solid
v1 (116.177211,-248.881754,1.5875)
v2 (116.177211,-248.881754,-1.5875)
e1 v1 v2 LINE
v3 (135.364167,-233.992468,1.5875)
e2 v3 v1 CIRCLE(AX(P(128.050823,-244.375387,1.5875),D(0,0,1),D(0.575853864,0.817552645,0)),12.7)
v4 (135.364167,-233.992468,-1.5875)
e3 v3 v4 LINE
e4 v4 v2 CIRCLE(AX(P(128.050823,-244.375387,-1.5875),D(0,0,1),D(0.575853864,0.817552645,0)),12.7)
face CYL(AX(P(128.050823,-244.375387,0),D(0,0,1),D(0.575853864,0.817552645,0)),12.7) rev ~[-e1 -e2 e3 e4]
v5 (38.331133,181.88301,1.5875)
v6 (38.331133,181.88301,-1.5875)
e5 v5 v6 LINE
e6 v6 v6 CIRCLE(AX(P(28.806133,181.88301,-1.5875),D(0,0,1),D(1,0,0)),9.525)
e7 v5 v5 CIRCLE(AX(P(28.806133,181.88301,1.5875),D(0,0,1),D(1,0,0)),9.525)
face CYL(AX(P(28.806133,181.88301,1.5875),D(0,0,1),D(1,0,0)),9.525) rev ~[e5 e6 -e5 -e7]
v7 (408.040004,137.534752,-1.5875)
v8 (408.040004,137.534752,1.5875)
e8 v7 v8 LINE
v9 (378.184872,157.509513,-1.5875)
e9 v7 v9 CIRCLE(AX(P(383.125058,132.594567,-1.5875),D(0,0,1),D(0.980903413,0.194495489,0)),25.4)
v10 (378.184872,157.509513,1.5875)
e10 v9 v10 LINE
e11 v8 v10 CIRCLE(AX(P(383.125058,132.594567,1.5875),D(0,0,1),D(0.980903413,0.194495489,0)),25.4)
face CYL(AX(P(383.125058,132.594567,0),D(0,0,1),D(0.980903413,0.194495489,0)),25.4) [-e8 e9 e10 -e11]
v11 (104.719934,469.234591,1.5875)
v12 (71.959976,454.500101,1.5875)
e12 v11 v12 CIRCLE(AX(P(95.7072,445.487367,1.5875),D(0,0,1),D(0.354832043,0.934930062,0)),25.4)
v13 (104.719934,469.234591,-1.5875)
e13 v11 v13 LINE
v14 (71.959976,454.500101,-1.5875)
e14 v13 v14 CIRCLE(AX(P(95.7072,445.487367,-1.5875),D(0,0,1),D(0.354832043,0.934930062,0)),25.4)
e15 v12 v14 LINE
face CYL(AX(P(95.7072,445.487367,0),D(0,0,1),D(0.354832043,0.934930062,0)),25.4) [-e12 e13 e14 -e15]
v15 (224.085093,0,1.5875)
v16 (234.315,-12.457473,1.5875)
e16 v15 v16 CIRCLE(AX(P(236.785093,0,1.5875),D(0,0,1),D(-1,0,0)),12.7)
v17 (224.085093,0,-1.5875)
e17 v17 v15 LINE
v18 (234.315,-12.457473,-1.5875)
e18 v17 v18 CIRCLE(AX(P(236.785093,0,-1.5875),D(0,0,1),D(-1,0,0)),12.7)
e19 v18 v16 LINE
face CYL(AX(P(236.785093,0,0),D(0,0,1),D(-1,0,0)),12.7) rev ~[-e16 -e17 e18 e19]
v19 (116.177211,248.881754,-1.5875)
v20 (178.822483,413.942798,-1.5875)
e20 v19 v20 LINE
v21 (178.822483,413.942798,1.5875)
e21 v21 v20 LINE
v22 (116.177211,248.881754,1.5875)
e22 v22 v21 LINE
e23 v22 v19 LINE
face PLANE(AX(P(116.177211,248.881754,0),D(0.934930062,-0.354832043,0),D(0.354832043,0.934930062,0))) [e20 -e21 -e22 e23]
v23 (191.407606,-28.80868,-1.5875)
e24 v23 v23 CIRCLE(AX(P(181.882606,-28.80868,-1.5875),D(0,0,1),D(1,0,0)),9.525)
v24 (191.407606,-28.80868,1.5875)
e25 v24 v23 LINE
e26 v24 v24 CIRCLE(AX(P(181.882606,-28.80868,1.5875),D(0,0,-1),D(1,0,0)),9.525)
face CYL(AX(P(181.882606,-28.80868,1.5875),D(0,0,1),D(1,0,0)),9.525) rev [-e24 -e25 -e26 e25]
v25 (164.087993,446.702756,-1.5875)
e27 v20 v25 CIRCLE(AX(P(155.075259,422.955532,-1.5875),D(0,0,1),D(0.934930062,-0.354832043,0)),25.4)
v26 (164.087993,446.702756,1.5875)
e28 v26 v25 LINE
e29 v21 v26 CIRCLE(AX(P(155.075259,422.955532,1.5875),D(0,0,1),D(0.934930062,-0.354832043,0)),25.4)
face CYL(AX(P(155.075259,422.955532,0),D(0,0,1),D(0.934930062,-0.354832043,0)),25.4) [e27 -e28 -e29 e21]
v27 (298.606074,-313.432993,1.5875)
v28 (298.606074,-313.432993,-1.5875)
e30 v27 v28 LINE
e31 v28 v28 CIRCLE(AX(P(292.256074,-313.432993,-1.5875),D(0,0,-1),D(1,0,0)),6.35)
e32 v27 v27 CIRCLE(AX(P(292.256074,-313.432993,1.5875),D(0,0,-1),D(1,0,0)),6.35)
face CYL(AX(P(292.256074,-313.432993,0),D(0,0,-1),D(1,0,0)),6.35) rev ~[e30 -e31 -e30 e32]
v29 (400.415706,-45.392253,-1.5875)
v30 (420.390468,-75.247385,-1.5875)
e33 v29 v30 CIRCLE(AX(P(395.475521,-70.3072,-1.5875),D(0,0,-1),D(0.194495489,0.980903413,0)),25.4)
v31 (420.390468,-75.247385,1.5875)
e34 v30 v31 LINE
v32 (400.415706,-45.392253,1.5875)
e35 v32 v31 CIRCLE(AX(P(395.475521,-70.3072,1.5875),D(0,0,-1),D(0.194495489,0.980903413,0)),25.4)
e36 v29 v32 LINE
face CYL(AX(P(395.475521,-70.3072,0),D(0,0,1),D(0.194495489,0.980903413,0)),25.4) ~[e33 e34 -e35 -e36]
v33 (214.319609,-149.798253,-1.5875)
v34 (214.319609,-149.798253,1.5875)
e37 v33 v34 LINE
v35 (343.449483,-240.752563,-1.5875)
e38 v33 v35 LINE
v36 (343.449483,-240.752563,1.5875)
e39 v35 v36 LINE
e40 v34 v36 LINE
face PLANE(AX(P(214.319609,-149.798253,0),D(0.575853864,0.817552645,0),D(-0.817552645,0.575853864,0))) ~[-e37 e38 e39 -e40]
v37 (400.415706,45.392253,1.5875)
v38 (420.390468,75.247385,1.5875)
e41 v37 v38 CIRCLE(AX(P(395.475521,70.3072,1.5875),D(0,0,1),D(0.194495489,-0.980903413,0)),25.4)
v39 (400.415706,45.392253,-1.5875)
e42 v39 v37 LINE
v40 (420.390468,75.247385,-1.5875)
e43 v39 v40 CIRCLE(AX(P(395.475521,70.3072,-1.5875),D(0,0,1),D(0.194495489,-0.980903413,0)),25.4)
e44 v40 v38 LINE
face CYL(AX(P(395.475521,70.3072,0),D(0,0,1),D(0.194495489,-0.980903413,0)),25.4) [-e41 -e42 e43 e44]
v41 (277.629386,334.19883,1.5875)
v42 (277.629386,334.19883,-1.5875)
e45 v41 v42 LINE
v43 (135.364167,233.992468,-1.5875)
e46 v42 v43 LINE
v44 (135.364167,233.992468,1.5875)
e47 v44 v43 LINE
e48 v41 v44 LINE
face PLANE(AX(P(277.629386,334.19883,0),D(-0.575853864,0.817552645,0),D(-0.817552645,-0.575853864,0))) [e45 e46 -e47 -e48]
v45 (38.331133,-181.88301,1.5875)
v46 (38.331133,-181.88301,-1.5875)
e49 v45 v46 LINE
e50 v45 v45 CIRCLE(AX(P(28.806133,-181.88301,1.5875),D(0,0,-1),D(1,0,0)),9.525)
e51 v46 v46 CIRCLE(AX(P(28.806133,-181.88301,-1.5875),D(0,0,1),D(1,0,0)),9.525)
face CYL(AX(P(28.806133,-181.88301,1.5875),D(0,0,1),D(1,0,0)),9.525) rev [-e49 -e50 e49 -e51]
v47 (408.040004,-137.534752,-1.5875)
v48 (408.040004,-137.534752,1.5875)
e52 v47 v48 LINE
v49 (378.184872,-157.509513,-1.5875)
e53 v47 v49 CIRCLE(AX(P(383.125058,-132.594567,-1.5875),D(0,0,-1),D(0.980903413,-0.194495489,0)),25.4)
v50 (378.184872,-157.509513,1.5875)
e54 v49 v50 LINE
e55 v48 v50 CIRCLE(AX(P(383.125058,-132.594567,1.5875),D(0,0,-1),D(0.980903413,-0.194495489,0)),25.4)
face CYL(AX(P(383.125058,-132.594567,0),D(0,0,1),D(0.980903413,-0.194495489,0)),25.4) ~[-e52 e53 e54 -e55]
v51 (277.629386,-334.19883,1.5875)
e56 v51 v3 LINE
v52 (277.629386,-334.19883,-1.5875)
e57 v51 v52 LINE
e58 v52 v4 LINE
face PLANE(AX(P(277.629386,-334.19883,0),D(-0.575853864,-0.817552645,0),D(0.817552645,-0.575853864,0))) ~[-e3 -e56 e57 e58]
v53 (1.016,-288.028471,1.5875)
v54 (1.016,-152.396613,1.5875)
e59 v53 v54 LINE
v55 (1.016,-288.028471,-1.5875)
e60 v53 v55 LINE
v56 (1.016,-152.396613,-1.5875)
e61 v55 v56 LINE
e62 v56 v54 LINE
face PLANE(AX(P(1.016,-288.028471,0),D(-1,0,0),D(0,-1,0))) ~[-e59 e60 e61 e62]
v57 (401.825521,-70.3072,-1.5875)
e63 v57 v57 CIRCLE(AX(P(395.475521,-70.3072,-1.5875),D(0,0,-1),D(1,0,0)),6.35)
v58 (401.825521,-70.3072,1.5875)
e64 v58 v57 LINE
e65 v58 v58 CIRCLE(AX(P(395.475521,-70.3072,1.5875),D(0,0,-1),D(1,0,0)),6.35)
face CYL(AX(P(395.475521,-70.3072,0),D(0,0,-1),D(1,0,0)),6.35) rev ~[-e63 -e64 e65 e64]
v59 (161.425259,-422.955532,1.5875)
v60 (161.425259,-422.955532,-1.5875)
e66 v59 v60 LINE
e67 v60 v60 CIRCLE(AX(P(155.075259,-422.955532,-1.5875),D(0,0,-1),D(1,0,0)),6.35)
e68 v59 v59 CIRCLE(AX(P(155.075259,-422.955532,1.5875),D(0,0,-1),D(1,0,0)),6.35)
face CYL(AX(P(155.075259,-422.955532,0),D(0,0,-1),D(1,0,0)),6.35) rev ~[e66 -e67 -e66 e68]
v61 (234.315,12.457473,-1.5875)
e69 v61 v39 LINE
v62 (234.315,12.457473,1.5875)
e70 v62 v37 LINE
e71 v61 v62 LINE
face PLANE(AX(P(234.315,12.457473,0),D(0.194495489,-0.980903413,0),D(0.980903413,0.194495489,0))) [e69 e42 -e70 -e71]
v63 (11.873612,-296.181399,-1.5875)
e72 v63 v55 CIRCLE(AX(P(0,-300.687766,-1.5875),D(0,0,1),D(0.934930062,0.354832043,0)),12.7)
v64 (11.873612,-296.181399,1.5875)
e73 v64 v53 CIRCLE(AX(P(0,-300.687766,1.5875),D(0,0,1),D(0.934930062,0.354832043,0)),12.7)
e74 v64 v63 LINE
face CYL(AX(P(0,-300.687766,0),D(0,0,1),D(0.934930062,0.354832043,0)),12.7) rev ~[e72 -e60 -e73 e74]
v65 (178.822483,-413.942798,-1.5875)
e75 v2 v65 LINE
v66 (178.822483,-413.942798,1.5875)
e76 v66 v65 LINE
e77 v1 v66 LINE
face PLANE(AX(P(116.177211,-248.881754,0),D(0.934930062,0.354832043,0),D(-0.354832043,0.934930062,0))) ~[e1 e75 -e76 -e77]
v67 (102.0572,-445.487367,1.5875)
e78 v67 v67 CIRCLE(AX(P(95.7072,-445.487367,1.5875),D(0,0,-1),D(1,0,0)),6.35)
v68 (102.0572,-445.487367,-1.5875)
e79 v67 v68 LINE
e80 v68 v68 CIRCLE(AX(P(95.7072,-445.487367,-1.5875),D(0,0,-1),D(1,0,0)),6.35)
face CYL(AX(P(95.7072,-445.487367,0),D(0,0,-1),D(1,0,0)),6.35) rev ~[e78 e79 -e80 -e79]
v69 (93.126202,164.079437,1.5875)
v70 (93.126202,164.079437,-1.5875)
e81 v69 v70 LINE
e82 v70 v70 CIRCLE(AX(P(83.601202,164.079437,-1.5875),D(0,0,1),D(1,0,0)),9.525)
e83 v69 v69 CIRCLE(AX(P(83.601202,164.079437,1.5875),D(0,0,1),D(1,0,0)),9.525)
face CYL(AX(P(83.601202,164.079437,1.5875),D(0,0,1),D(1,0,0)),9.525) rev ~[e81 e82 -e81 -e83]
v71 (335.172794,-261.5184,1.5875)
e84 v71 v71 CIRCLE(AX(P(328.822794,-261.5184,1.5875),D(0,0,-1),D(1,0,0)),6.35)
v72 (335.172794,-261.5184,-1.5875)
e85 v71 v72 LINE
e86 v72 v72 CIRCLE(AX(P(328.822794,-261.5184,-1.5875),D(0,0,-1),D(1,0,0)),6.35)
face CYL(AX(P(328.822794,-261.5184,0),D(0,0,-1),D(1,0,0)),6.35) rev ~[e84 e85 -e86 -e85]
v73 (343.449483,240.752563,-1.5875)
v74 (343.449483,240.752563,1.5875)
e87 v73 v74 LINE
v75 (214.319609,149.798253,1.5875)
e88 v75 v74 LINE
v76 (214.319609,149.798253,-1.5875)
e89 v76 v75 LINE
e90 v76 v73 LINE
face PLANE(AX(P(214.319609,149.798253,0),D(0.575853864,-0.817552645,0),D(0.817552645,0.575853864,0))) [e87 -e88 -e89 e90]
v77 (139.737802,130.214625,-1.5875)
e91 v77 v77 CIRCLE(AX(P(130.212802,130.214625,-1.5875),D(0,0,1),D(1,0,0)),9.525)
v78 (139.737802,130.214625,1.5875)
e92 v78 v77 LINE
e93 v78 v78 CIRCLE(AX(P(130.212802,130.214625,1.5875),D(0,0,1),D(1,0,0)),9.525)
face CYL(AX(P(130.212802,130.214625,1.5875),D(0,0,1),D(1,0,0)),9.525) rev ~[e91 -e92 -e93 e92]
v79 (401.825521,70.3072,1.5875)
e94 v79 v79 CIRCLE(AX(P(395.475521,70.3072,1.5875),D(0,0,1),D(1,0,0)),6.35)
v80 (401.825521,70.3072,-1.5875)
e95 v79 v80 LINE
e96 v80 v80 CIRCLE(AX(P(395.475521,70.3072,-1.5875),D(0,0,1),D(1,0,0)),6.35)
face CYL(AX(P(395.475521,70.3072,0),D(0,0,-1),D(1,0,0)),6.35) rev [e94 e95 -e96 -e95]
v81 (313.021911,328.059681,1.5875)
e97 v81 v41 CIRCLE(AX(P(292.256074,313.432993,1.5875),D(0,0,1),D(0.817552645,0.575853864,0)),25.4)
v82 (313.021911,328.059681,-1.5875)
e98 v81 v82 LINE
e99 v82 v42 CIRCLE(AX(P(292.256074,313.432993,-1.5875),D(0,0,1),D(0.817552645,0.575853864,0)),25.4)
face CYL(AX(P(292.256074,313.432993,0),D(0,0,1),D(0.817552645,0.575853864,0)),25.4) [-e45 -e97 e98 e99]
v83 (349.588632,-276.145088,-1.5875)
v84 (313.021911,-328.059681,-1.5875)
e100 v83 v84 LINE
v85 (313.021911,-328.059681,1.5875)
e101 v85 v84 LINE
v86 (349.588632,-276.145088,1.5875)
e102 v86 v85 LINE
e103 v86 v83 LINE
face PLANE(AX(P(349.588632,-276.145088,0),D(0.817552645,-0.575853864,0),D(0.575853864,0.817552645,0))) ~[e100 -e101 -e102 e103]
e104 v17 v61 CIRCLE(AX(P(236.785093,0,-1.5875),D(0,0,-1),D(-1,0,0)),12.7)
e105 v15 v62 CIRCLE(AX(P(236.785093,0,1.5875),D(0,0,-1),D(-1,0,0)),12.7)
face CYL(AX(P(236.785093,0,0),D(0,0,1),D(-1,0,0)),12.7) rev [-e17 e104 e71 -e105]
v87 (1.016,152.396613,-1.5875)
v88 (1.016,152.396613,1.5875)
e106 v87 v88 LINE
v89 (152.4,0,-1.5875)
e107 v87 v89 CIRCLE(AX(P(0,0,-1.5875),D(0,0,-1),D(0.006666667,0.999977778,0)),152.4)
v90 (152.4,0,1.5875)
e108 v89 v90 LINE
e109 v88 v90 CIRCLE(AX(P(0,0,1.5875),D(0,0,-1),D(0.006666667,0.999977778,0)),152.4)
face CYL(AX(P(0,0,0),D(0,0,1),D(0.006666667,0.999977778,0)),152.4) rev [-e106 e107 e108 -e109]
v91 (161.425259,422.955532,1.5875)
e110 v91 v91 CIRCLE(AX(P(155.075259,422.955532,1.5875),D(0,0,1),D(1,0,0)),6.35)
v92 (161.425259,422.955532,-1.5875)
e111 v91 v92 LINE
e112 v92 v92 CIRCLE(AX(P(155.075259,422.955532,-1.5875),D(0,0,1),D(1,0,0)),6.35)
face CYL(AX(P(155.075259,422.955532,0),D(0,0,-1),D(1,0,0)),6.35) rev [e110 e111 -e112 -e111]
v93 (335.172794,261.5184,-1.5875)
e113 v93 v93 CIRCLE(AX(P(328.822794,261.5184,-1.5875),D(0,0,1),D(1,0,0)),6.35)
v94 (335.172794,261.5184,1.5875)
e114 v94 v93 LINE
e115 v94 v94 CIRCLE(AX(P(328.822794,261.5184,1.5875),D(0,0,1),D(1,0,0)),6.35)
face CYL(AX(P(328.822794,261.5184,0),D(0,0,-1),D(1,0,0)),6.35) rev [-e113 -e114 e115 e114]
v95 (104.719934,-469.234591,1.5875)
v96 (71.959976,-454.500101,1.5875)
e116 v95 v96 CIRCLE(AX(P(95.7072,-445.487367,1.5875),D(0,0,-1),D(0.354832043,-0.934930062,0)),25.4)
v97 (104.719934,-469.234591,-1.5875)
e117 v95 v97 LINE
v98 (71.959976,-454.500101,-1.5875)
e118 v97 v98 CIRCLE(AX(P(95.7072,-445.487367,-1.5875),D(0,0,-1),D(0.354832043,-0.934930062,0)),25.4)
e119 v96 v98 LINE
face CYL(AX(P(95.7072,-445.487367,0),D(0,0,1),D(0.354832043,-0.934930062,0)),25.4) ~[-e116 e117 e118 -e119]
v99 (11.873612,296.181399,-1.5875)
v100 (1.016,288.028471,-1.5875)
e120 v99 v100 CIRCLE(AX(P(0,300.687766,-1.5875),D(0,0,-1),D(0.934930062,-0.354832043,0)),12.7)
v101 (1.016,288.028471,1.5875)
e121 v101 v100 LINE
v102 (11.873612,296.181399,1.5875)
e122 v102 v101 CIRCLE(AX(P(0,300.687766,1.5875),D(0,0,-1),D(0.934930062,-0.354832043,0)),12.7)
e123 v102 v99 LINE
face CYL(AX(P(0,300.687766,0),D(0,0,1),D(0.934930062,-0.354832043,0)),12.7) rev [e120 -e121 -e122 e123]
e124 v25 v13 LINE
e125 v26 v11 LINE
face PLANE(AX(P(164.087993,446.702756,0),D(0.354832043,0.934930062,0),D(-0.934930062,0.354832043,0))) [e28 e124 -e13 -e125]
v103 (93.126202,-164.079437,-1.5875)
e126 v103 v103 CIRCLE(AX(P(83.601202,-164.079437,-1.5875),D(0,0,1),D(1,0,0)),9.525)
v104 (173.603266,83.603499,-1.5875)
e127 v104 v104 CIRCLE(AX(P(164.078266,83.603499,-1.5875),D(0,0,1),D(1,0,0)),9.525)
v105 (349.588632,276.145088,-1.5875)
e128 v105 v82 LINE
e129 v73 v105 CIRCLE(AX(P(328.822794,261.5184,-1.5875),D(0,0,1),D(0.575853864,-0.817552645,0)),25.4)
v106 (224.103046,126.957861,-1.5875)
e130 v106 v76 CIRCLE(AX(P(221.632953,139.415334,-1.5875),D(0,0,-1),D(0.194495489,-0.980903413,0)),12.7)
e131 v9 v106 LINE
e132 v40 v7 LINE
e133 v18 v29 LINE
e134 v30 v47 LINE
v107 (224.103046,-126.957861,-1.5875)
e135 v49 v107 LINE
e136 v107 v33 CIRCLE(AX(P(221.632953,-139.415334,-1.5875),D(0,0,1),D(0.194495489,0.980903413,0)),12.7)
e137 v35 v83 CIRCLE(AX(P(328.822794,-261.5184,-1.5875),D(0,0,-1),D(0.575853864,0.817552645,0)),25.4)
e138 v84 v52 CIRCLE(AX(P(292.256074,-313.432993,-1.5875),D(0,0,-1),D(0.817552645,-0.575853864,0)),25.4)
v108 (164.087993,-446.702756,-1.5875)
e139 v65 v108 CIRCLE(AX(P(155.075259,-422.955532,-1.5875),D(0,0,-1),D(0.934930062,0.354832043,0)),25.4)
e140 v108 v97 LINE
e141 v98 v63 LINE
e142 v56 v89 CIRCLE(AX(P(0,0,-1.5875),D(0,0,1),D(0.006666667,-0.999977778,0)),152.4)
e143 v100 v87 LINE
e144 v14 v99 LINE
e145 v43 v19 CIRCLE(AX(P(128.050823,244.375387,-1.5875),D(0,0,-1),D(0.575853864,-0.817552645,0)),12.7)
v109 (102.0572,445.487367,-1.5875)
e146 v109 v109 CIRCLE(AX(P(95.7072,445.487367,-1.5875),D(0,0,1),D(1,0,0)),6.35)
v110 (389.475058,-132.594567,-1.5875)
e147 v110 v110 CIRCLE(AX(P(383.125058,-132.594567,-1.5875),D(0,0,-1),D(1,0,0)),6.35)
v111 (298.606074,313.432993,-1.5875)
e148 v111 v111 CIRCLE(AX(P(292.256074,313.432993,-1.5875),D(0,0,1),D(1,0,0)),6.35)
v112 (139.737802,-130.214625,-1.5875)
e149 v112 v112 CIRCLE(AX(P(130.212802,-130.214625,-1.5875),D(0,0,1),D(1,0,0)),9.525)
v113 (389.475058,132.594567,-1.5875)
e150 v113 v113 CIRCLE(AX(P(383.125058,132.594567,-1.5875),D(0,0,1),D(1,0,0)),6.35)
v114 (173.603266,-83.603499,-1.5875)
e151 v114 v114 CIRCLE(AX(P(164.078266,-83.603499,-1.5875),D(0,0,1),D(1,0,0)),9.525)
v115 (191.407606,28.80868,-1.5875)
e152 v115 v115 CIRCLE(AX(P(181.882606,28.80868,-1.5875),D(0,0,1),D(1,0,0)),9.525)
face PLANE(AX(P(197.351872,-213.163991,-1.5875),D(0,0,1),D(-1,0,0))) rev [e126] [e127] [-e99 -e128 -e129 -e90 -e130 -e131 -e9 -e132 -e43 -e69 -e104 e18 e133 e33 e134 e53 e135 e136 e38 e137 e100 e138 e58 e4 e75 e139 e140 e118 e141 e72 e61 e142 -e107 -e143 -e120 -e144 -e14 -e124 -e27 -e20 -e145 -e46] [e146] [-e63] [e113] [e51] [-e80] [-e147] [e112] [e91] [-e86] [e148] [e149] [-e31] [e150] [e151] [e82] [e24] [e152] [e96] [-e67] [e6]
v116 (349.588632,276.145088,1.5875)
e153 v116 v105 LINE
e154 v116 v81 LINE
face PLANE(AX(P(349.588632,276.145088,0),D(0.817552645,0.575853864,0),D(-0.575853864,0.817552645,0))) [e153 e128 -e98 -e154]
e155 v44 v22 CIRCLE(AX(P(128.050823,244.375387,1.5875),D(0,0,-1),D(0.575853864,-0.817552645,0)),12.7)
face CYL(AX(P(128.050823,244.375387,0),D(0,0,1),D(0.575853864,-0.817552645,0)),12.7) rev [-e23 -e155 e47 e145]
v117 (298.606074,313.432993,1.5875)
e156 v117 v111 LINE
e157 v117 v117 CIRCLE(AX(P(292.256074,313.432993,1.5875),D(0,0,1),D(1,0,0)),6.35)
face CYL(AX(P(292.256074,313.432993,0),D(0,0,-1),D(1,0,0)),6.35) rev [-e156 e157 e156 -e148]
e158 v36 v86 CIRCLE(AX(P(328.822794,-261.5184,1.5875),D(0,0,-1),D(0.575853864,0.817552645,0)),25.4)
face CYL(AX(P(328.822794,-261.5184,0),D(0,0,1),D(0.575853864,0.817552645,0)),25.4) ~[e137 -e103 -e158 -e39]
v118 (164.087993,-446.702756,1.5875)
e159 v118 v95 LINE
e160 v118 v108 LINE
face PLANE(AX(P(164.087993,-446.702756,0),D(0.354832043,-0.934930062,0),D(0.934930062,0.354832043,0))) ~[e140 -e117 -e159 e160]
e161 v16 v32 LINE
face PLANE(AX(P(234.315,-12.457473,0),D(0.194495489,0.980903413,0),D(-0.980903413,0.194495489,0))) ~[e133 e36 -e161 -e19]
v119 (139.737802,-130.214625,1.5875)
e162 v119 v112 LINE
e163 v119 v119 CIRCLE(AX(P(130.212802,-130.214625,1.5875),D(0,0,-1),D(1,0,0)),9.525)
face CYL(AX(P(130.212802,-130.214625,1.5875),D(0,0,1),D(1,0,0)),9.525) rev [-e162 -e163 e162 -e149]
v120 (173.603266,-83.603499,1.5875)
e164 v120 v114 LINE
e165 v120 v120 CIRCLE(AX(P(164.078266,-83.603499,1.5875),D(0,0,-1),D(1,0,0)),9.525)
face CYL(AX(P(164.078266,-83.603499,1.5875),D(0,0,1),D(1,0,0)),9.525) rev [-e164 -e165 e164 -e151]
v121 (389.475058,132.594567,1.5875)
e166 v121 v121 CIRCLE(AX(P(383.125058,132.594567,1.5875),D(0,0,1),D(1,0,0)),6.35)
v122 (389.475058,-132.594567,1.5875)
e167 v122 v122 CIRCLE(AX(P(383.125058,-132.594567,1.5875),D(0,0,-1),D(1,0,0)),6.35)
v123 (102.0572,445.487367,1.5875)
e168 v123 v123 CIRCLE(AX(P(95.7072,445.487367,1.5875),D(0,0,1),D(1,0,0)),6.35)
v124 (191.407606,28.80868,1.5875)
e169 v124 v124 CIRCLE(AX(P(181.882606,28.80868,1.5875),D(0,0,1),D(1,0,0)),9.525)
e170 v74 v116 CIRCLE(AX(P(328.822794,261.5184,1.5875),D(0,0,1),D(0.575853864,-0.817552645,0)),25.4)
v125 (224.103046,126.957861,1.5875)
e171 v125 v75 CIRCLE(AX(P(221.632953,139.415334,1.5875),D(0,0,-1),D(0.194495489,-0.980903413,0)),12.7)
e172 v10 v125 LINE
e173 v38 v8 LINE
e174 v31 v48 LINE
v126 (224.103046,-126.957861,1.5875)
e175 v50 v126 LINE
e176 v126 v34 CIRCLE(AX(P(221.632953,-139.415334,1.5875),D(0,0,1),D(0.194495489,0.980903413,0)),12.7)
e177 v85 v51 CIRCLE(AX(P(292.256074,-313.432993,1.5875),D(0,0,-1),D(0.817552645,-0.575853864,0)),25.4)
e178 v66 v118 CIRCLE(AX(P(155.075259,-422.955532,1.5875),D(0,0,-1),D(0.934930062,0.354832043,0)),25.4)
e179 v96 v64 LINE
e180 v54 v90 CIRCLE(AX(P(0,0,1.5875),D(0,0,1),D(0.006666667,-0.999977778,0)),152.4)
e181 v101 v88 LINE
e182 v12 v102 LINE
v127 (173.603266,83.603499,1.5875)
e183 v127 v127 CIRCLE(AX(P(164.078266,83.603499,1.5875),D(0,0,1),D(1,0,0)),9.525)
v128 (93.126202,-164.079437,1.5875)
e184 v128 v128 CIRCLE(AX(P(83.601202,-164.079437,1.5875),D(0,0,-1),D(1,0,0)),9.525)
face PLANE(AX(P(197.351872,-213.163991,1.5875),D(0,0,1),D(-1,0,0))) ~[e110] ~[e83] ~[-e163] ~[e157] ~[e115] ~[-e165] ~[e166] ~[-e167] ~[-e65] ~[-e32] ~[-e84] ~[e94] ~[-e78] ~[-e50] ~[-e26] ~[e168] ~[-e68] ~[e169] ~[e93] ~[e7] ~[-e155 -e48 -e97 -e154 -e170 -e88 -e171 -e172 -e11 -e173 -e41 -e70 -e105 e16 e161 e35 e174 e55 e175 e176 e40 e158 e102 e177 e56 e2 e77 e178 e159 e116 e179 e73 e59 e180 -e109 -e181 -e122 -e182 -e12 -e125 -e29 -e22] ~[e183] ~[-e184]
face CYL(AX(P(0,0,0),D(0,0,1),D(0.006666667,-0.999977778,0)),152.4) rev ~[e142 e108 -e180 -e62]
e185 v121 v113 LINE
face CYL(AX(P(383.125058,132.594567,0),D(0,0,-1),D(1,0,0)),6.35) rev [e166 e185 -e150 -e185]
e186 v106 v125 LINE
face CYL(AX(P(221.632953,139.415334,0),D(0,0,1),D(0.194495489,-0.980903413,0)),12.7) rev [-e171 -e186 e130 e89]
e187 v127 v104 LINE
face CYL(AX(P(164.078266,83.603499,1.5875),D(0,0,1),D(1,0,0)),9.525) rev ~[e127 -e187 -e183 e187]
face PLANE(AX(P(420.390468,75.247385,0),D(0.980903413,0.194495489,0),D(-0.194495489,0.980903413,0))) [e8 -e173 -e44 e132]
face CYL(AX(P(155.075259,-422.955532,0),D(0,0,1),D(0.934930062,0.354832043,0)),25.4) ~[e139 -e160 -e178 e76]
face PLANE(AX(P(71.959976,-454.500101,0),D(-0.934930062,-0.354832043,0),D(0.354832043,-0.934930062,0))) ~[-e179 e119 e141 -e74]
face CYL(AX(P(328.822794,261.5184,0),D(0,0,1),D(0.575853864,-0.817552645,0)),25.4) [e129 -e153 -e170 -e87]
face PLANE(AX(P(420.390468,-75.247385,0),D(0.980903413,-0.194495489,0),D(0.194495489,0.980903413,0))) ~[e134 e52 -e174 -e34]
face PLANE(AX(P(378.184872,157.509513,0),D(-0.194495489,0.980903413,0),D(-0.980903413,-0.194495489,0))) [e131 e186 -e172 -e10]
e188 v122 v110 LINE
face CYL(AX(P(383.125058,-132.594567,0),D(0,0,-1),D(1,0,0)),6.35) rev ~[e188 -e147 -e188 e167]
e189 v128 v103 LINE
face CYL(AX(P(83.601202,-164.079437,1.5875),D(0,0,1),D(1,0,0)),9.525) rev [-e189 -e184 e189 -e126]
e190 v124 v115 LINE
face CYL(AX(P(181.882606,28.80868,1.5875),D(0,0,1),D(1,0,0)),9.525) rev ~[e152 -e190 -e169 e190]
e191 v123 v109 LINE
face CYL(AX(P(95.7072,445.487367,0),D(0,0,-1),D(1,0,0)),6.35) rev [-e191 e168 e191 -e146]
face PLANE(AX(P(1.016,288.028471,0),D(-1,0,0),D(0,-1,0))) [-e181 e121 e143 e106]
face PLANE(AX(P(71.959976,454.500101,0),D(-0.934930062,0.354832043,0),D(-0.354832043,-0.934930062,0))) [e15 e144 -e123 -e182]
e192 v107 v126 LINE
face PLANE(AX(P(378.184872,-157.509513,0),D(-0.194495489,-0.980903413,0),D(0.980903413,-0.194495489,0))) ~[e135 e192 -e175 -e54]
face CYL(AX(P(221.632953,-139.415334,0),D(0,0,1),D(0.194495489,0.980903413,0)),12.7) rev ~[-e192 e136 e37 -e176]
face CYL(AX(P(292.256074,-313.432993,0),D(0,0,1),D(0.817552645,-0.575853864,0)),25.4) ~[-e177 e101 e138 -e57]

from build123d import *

# Parameters (mm, degrees)
SKETCH1_R          = 6.35
BASE_EXTRUDE_DEPTH = 1.5875
SKETCH4_R          = 9.525
CUT_EXTRUDE1_DEPTH = 632.57042153


with BuildPart() as part:
    # Sketch1 → Base-Extrude (new, symmetric)
    with BuildSketch(Plane.XY):
        with BuildLine():
            Line((1.016, 288.028470779), (1.016, 152.396613296))
            ThreePointArc((1.016, 152.396613296), (108.121687001, 107.40326252), (152.4, 0))
            Line((152.4, 0), (224.08509271, 0))
            ThreePointArc((224.08509271, 0), (226.970303426, 8.05977117), (234.315000004, 12.45747334))
            Line((234.315000004, 12.45747334), (400.41570649, 45.392253319))
            ThreePointArc((400.41570649, 45.392253319), (416.586287434, 56.182910854), (420.390467759, 75.247385412))
            Line((420.390467759, 75.247385412), (408.040004229, 137.534752113))
            ThreePointArc((408.040004229, 137.534752113), (397.249346694, 153.705333057), (378.184872136, 157.509513382))
            Line((378.184872136, 157.509513382), (224.103045939, 126.957861002))
            ThreePointArc((224.103045939, 126.957861002), (209.958830275, 134.414849048), (214.319609154, 149.79825293))
            Line((214.319609154, 149.79825293), (343.449482538, 240.752562825))
            ThreePointArc((343.449482538, 240.752562825), (353.849089047, 257.177366098), (349.588631557, 276.145088156))
            Line((349.588631557, 276.145088156), (313.021911166, 328.059681094))
            ThreePointArc((313.021911166, 328.059681094), (296.597107893, 338.459287603), (277.629385835, 334.198830112))
            Line((277.629385835, 334.198830112), (135.364166743, 233.992468211))
            ThreePointArc((135.364166743, 233.992468211), (120.264827781, 234.342028255), (116.177210875, 248.881753745))
            Line((116.177210875, 248.881753745), (178.82248253, 413.942798461))
            ThreePointArc((178.82248253, 413.942798461), (178.240047031, 433.374389929), (164.087992844, 446.702755935))
            Line((164.087992844, 446.702755935), (104.719933894, 469.234590669))
            ThreePointArc((104.719933894, 469.234590669), (85.288342425, 468.65215517), (71.95997642, 454.500100983))
            Line((71.95997642, 454.500100983), (11.87361179, 296.181398599))
            ThreePointArc((11.87361179, 296.181398599), (7.625816745, 290.532130708), (1.016, 288.028470779))
        make_face()
        with Locations((395.475521078, 70.3072)):
            Circle(SKETCH1_R, mode=Mode.SUBTRACT)
        with Locations((383.125057548, 132.594566701)):
            Circle(SKETCH1_R, mode=Mode.SUBTRACT)
        with Locations((328.822794382, 261.5184)):
            Circle(SKETCH1_R, mode=Mode.SUBTRACT)
        with Locations((292.256073991, 313.432992937)):
            Circle(SKETCH1_R, mode=Mode.SUBTRACT)
        with Locations((155.07525895, 422.955532355)):
            Circle(SKETCH1_R, mode=Mode.SUBTRACT)
        with Locations((95.7072, 445.487367089)):
            Circle(SKETCH1_R, mode=Mode.SUBTRACT)
    base_extrude = extrude(amount=BASE_EXTRUDE_DEPTH, both=True)

    # Sketch4 → Cut-Extrude1 (cut, through all)
    with BuildSketch(Plane.XY.offset(1.5875)):
        with Locations((181.882606251, 28.80868)):
            Circle(SKETCH4_R)
        with Locations((164.07826617, 83.603499153)):
            Circle(SKETCH4_R)
        with Locations((130.212802196, 130.214625308)):
            Circle(SKETCH4_R)
        with Locations((83.601201897, 164.07943668)):
            Circle(SKETCH4_R)
        with Locations((28.806133473, 181.883009581)):
            Circle(SKETCH4_R)
    cut_extrude1 = extrude(amount=-CUT_EXTRUDE1_DEPTH, mode=Mode.SUBTRACT)

    # Mirror1: Base-Extrude, Cut-Extrude1 across plane
    add(base_extrude.mirror(Plane.ZX))
    add(cut_extrude1.mirror(Plane.ZX), mode=Mode.SUBTRACT)


solid = part.part
